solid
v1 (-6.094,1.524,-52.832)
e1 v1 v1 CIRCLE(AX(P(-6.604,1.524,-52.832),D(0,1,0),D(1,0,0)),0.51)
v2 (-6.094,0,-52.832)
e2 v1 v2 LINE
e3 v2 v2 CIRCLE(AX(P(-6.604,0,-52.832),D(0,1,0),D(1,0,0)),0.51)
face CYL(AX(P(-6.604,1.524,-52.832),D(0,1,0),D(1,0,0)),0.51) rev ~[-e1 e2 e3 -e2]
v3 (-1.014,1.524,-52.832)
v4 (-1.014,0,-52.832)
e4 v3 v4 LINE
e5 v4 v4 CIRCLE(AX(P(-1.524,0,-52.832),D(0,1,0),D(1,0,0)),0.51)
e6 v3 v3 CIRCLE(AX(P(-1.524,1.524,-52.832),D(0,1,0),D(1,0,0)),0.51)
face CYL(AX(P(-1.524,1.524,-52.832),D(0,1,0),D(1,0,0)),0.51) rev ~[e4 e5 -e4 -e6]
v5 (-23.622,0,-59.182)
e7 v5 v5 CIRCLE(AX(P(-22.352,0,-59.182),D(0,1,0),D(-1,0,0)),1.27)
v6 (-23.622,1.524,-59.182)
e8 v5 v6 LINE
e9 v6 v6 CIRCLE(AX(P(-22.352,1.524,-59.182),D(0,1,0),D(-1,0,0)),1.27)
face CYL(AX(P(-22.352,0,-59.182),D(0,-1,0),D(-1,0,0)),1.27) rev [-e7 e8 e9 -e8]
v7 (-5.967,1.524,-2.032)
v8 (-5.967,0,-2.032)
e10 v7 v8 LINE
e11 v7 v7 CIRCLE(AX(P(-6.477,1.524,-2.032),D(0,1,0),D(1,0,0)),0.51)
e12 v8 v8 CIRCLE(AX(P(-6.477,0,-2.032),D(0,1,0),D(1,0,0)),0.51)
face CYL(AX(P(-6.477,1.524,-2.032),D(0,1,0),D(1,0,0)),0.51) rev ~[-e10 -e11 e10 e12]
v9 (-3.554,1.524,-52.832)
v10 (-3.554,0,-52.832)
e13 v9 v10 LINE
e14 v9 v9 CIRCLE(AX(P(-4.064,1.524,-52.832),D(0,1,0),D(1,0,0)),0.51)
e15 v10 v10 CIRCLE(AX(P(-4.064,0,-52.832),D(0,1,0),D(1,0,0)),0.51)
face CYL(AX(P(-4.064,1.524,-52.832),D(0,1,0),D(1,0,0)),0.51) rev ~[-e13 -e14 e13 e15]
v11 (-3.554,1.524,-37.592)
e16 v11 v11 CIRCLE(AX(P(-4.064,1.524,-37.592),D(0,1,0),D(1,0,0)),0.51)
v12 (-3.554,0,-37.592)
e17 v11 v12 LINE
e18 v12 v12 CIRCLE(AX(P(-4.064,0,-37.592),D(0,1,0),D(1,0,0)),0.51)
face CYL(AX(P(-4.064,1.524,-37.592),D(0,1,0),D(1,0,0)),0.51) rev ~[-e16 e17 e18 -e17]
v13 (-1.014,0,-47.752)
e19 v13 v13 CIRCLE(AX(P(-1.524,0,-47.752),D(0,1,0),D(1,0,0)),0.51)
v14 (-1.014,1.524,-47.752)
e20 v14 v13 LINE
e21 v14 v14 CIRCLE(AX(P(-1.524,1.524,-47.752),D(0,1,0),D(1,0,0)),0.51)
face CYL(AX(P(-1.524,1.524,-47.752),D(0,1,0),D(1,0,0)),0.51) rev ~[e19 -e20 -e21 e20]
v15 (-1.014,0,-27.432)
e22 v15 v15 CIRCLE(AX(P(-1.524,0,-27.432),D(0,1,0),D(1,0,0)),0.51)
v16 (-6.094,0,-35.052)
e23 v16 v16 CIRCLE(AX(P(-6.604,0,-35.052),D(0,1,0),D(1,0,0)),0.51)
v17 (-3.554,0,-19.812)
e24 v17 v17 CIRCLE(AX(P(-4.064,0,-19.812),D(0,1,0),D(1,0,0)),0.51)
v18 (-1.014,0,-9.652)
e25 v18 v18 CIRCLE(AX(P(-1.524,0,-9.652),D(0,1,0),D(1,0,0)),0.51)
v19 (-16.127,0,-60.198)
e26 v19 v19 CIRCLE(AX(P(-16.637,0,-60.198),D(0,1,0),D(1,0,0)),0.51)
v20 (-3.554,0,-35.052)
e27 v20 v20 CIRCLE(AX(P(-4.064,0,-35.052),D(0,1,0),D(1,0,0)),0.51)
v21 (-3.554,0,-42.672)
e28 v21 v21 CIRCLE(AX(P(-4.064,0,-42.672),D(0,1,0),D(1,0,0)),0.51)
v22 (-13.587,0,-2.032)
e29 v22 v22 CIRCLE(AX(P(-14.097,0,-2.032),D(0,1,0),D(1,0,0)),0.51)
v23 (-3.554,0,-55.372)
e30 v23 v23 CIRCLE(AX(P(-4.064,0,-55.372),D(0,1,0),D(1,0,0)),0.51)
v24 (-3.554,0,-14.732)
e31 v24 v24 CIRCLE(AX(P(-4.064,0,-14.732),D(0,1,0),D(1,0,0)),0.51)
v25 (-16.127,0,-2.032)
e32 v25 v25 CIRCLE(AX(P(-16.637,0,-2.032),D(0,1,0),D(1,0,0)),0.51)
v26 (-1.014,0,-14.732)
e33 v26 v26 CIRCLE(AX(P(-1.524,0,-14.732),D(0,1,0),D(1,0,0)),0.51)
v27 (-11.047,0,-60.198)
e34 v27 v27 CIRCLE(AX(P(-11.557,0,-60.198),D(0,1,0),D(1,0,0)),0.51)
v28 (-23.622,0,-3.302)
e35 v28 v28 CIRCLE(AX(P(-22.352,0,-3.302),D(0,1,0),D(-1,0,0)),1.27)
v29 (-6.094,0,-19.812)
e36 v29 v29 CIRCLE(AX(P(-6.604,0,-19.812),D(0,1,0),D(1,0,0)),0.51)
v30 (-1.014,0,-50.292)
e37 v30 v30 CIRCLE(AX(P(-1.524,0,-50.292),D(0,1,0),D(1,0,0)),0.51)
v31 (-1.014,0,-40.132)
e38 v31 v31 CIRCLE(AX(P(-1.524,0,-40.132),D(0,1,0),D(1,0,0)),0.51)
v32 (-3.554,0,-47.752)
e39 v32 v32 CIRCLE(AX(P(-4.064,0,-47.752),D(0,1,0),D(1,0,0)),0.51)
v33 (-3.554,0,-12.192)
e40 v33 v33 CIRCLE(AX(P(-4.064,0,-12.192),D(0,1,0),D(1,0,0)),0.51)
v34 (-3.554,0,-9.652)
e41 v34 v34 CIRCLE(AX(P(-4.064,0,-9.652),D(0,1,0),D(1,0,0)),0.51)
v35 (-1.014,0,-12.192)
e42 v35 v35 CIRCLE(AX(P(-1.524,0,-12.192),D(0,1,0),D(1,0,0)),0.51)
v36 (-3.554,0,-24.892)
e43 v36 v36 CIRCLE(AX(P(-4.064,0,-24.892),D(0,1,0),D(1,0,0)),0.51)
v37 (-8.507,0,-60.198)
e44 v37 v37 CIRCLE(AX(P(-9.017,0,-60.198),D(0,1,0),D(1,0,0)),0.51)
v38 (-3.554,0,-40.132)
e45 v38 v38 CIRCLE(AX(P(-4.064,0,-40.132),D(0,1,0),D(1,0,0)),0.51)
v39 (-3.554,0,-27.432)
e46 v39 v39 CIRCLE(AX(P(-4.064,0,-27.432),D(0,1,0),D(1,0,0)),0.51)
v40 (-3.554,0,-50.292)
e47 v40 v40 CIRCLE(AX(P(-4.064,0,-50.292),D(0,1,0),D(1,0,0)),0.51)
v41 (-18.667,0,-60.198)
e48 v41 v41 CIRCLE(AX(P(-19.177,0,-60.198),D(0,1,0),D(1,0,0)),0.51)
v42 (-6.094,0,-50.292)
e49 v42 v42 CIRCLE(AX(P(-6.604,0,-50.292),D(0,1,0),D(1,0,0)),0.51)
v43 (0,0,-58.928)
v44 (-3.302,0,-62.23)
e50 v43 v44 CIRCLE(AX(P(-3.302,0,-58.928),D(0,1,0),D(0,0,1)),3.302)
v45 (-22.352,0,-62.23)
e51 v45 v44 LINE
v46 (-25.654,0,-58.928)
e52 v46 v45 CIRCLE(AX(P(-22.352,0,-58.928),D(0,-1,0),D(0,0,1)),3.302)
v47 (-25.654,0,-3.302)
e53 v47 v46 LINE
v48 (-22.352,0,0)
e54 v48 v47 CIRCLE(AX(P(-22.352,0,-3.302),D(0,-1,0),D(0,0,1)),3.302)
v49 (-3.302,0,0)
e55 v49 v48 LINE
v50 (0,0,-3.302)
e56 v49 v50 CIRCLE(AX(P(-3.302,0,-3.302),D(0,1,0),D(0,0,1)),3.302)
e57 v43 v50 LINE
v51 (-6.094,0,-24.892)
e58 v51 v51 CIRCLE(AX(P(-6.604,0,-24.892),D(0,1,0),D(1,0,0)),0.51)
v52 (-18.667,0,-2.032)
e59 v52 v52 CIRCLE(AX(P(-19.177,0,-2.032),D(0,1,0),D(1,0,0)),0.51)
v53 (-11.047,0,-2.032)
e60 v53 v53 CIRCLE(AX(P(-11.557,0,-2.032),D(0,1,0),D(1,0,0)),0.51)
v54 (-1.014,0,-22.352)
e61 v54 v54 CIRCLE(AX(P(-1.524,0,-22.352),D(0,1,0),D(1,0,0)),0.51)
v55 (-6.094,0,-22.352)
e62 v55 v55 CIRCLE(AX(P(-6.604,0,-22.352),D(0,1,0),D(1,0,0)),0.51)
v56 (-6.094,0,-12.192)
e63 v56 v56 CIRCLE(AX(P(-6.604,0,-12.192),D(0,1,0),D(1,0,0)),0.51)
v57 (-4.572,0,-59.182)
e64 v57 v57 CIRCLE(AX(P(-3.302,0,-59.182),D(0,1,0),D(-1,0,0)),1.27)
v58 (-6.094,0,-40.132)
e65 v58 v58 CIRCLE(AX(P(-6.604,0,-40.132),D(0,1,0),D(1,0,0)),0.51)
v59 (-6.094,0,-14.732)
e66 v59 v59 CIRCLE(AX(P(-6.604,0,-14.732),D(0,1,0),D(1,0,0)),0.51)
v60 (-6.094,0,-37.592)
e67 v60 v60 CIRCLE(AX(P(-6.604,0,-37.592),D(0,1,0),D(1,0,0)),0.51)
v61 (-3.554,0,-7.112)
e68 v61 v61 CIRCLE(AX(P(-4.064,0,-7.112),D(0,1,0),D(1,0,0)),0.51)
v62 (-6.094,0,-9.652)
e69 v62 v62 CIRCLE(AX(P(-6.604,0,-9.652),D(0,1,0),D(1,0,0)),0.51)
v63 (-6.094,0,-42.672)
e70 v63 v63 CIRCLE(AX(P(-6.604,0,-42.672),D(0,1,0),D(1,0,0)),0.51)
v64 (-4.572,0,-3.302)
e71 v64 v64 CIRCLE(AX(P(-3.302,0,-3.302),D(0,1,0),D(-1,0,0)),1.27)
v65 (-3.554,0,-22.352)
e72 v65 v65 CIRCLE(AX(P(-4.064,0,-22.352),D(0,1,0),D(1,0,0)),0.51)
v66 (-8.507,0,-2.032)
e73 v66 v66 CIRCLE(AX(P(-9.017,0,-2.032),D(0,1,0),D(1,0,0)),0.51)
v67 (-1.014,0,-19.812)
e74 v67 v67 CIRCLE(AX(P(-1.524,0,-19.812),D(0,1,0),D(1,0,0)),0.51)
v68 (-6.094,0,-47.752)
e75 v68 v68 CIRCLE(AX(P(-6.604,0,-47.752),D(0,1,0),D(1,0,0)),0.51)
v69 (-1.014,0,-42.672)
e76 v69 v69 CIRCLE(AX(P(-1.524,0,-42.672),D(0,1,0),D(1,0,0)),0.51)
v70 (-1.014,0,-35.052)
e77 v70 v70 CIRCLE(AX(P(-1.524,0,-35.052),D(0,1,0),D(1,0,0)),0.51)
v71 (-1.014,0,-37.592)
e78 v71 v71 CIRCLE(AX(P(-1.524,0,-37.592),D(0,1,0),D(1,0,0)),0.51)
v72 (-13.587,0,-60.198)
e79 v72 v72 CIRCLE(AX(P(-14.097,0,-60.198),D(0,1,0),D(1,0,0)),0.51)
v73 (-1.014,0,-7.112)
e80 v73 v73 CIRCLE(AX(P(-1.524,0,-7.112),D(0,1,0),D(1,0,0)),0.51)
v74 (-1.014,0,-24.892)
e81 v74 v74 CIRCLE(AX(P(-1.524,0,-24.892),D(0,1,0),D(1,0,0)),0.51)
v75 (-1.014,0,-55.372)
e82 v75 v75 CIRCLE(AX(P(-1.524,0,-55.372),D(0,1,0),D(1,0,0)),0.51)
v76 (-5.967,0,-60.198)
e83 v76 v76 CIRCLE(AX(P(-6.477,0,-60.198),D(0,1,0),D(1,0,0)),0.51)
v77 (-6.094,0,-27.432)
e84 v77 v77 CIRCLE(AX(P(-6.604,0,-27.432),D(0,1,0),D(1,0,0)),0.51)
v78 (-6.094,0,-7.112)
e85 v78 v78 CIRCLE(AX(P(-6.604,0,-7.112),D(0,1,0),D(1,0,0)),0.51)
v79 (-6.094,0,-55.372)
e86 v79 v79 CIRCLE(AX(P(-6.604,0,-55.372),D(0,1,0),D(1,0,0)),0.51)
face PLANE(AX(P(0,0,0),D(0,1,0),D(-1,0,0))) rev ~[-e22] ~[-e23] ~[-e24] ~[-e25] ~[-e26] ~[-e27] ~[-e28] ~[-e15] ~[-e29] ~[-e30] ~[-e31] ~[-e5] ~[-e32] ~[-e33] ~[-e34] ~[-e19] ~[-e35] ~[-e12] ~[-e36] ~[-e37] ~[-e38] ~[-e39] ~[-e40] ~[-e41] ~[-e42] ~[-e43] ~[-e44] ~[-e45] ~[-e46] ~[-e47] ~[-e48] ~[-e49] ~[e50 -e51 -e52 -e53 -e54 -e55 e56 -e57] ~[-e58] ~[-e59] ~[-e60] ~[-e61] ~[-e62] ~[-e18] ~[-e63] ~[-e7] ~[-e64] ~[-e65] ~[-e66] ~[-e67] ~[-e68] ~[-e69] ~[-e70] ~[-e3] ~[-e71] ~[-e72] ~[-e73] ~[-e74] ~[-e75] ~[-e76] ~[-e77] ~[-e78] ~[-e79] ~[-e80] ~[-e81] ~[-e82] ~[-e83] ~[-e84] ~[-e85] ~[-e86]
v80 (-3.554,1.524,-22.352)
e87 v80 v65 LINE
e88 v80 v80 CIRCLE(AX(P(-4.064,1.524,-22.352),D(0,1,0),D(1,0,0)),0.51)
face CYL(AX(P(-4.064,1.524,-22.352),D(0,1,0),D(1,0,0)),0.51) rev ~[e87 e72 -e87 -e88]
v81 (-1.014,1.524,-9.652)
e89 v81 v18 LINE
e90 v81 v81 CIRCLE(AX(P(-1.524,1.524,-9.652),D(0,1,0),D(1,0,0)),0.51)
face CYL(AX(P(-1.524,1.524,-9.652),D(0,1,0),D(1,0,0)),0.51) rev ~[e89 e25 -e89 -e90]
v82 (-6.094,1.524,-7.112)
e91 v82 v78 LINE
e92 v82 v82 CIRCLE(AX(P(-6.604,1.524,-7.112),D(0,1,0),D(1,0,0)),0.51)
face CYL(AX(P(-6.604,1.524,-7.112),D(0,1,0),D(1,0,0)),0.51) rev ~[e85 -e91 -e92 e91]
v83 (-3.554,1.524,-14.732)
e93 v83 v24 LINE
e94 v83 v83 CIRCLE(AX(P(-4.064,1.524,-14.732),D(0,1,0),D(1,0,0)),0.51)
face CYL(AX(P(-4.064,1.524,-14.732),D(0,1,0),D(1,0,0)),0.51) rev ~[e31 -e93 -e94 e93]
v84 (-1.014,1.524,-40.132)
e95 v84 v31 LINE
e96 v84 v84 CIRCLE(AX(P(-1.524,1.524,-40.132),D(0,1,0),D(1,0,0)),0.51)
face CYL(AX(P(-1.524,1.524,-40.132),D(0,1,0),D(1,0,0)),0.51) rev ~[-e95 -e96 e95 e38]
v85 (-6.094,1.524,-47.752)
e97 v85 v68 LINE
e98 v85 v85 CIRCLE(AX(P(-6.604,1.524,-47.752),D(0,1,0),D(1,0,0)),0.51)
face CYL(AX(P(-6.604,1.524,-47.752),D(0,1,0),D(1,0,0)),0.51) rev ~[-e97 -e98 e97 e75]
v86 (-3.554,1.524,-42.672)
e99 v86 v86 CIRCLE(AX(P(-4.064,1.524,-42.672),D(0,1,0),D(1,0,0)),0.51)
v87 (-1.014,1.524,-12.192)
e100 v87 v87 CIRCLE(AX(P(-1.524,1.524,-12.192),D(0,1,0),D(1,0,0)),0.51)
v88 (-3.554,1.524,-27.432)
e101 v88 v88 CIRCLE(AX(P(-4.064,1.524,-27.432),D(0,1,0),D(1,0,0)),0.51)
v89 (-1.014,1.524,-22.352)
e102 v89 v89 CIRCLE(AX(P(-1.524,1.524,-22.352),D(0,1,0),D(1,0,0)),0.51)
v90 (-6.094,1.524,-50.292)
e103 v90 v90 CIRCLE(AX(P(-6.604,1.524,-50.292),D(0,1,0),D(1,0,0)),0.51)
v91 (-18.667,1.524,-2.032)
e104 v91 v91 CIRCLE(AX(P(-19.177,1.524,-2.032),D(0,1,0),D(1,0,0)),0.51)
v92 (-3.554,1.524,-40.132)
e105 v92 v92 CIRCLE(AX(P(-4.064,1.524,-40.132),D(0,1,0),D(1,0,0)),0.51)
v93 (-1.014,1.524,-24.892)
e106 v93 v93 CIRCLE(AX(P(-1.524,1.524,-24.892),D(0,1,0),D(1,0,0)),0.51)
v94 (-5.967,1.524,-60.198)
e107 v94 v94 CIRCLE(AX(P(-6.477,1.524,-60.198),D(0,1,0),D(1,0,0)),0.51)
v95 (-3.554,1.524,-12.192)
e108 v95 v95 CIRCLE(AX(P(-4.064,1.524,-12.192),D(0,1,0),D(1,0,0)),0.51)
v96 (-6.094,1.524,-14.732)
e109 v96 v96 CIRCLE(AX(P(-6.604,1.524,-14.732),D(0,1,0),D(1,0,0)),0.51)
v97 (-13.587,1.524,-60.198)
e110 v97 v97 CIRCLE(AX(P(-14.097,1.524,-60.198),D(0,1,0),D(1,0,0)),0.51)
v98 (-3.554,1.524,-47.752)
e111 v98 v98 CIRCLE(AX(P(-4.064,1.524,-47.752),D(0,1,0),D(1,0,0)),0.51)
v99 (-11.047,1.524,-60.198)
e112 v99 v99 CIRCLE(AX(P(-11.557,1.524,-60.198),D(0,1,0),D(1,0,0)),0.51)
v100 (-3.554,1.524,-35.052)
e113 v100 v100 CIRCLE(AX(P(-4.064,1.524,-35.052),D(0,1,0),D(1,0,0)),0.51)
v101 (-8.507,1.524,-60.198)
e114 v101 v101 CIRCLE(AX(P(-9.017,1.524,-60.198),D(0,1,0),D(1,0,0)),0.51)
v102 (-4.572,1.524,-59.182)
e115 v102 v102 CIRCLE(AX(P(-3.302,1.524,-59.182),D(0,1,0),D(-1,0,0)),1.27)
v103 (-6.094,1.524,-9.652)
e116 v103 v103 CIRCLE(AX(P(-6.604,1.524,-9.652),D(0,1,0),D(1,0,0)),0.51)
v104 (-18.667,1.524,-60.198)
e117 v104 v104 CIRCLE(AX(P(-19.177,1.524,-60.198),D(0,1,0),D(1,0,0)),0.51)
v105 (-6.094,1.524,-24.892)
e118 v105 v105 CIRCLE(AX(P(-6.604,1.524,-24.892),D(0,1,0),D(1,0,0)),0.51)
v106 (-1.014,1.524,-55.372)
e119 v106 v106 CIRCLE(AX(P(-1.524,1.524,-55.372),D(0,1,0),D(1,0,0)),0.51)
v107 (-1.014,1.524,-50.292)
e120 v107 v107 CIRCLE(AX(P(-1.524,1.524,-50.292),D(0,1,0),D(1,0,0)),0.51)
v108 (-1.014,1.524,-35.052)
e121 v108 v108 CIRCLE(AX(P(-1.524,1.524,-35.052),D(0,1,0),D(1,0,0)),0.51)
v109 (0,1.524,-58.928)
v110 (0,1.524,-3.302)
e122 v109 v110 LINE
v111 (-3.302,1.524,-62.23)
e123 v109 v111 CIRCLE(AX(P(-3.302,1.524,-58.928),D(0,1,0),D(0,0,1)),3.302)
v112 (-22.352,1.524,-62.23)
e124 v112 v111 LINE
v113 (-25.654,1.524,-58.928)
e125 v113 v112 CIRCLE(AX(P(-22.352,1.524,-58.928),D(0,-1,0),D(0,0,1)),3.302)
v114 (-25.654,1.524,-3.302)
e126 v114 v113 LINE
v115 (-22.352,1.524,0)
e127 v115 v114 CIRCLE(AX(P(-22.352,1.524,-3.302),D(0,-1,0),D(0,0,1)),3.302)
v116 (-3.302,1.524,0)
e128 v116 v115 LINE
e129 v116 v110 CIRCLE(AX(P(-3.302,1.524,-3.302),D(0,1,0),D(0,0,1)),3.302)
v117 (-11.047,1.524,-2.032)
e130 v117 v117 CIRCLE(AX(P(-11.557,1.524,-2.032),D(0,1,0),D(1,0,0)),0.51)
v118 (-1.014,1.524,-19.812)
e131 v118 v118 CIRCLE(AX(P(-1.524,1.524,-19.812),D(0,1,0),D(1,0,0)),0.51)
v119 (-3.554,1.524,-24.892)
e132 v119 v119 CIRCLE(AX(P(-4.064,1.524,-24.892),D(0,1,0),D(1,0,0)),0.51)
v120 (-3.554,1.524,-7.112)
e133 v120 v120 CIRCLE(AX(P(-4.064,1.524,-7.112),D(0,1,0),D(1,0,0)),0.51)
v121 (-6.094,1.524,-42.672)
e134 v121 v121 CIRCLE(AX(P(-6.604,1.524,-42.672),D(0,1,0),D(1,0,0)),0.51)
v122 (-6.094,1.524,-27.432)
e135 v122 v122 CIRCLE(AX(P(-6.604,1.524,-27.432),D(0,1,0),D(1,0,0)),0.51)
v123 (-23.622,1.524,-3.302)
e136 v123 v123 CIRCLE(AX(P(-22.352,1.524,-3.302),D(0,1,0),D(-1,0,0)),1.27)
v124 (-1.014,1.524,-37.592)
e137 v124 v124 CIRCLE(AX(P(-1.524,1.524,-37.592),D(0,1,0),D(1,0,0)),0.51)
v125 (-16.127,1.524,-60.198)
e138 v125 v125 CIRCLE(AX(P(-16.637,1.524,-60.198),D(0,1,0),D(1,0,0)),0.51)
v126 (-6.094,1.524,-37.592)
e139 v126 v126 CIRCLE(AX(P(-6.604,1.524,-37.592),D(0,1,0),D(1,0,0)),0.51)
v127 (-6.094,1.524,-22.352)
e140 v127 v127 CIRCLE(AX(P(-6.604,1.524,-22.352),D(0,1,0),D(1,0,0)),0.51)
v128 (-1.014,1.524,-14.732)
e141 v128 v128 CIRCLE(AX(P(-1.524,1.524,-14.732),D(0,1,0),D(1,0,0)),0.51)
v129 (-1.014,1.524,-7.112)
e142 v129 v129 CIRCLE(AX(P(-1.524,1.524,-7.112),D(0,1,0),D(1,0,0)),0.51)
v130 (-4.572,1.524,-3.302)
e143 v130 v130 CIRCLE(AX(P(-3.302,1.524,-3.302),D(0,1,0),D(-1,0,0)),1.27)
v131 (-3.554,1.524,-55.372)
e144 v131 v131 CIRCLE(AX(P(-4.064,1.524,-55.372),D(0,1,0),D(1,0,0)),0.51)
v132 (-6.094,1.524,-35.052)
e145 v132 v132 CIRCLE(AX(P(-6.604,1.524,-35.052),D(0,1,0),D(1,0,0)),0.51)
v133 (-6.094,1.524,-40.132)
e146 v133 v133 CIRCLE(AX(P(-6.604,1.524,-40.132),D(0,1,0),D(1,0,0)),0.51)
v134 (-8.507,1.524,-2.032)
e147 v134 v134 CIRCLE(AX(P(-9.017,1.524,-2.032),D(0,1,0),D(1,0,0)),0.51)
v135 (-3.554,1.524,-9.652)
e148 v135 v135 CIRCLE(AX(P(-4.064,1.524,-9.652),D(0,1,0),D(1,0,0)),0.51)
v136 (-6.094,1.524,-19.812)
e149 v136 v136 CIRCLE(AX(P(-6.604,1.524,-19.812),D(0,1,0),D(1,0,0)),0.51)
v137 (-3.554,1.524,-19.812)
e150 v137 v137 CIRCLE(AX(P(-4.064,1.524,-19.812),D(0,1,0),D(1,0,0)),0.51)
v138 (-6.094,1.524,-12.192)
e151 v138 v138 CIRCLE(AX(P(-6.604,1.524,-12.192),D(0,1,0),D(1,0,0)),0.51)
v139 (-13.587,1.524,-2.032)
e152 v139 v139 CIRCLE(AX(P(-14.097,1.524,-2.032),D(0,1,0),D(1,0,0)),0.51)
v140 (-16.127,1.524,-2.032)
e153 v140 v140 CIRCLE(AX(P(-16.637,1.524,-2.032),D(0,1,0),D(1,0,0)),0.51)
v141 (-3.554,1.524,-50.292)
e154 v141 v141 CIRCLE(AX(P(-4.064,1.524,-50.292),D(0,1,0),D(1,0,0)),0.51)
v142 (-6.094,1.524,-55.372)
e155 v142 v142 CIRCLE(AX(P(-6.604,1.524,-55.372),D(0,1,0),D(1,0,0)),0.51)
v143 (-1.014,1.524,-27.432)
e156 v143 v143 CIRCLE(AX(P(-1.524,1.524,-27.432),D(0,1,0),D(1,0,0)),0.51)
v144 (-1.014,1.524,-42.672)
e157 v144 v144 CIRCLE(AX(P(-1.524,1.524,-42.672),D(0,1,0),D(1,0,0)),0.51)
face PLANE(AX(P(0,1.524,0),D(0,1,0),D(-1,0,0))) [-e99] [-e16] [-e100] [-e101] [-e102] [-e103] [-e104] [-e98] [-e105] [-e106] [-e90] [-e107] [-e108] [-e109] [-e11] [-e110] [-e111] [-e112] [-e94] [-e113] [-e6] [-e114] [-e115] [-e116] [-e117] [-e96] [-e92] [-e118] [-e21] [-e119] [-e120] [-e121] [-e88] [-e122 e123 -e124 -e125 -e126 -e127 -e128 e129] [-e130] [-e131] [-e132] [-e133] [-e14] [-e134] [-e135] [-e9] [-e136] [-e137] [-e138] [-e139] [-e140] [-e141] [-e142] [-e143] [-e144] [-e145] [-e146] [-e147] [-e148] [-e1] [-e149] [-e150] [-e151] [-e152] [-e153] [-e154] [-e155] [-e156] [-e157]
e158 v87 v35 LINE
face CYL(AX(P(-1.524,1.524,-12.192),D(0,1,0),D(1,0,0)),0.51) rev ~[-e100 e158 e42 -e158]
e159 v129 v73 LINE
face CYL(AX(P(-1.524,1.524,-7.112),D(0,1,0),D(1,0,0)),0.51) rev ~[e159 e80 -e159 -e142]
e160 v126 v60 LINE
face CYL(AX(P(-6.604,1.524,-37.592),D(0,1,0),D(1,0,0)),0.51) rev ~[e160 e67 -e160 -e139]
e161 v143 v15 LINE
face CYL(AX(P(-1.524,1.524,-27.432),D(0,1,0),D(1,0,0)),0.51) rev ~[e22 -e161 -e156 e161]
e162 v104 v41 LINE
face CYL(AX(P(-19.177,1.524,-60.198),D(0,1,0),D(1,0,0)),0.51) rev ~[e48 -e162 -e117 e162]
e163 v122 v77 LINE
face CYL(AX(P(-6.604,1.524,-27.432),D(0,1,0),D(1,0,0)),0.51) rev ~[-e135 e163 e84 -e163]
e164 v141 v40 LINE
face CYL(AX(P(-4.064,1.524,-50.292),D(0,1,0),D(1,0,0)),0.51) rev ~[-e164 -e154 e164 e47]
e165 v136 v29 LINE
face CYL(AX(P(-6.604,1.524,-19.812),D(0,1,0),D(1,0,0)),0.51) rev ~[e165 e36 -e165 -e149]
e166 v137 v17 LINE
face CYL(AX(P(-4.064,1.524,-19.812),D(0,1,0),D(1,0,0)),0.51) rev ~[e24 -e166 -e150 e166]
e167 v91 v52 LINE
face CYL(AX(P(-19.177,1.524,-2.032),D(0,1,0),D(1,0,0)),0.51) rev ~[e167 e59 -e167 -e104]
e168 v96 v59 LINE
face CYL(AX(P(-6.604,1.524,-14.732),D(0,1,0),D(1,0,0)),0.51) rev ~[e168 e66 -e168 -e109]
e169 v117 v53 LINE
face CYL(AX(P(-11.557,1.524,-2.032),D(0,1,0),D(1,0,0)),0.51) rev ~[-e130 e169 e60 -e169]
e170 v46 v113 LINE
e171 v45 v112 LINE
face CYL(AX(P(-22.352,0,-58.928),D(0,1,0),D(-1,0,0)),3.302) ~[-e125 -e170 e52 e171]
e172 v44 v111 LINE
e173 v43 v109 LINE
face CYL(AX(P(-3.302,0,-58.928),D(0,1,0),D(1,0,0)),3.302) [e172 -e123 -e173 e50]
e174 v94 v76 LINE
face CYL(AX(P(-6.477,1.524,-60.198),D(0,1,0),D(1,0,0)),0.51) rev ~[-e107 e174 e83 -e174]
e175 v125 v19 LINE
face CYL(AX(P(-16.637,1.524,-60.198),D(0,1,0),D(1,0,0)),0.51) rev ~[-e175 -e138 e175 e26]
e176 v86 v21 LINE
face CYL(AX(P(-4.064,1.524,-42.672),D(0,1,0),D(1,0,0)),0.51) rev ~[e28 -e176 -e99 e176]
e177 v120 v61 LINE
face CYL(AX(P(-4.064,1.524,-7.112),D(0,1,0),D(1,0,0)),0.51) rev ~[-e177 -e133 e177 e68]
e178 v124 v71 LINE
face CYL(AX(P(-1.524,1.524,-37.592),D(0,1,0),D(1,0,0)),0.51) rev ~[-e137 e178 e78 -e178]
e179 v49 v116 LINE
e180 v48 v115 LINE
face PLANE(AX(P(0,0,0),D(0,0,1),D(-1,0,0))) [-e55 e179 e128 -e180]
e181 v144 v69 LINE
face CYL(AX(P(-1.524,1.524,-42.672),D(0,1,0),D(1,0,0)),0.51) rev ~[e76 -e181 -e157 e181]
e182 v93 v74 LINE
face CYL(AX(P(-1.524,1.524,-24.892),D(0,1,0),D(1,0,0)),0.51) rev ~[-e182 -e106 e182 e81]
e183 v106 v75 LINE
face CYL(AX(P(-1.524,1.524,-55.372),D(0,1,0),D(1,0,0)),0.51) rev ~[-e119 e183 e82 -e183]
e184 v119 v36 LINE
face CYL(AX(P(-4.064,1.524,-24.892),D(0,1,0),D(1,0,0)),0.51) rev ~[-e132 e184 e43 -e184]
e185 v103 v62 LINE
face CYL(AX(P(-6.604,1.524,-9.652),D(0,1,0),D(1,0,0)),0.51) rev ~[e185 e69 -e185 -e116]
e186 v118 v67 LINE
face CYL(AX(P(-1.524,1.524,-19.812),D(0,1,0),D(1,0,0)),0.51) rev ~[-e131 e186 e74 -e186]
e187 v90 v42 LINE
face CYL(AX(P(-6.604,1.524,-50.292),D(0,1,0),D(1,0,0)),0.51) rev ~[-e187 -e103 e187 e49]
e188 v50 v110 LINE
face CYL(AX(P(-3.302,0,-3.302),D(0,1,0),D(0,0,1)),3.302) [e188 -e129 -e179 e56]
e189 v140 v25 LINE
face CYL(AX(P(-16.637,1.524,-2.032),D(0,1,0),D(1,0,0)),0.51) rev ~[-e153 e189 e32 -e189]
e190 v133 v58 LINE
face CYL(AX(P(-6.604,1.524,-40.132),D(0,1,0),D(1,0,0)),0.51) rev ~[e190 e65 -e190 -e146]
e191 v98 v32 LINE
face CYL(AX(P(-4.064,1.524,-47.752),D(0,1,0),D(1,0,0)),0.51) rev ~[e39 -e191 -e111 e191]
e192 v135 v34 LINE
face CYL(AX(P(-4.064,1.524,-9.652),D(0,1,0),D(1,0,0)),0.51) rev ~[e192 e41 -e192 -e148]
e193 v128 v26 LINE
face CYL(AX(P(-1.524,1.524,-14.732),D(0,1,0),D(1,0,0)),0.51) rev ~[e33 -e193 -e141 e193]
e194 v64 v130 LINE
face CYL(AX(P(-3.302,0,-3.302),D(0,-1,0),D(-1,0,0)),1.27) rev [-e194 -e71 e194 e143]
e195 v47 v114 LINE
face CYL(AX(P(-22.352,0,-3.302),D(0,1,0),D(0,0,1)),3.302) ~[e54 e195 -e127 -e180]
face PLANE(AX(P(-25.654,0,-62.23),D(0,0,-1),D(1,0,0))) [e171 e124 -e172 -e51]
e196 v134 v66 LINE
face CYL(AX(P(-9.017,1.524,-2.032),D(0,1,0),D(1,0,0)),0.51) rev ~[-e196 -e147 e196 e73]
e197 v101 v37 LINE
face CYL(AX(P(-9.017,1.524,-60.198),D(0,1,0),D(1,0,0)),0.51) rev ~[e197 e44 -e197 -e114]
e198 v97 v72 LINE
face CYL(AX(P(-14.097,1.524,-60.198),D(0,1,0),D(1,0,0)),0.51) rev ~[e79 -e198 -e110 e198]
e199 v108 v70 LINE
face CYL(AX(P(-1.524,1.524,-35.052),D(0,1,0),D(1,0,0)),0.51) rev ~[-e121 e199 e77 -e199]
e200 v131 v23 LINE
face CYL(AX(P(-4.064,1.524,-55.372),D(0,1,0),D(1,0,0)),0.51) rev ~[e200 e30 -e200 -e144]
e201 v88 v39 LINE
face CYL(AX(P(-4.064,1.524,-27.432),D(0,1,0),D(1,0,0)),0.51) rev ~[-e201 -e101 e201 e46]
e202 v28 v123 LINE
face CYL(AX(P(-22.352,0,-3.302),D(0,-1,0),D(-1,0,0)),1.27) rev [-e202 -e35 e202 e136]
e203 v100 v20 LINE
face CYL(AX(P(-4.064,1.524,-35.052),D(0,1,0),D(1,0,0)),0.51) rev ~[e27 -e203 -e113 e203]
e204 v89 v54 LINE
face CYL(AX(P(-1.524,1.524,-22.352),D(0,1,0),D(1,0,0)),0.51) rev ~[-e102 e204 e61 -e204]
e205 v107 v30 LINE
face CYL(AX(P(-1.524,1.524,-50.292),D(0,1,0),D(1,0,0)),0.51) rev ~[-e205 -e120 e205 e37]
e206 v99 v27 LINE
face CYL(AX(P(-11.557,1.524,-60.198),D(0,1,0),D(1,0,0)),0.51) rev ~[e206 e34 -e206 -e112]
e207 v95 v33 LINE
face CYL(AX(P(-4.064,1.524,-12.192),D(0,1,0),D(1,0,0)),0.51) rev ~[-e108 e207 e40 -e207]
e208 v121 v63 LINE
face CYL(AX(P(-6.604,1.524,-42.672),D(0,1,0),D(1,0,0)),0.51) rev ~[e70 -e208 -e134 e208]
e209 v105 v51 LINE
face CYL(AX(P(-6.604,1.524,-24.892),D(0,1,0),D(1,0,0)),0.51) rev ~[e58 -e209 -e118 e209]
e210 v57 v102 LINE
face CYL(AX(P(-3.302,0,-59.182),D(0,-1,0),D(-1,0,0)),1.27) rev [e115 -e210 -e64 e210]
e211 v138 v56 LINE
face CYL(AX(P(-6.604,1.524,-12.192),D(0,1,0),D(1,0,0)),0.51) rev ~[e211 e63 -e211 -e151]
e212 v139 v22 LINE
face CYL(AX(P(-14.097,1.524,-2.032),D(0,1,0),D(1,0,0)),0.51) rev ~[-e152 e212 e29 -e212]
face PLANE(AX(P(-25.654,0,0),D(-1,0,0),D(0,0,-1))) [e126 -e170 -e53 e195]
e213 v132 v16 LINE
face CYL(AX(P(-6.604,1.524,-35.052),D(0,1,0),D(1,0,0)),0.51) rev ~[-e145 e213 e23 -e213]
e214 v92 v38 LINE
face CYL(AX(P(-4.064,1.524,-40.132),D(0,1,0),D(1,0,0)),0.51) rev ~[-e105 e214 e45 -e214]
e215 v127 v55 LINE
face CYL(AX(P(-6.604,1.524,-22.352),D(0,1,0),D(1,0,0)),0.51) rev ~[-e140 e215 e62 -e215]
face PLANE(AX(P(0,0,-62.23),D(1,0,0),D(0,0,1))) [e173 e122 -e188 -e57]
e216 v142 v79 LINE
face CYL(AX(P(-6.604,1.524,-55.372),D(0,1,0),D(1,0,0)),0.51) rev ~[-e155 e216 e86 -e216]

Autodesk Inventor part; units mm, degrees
ref_plane "YZ Plane" through (0, 0, 0) normal (1, 0, 0) x (0, 1, 0)
ref_plane "XZ Plane" through (0, 0, 0) normal (0, 1, 0) x (-1, 0, 0)
ref_plane "XY Plane" through (0, 0, 0) normal (0, 0, 1) x (1, 0, 0)
sketch "Sketch1" plane through (0, 0, 0) normal (0, 1, 0) x (-1, 0, 0)
  line L0 (0, 0) -> (25.654, 0)
  line L1 (25.654, 0) -> (25.654, -62.23)
  line L2 (25.654, -62.23) -> (0, -62.23)
  line L3 (0, -62.23) -> (0, 0)
  circle A0 centre (3.302, -3.302) radius 1.27
  circle A1 centre (3.302, -59.182) radius 1.27
  circle A2 centre (22.352, -3.302) radius 1.27
  circle A3 centre (22.352, -59.182) radius 1.27
  dimension "d0" = 25.654
  dimension "d1" = 2.54
  dimension "d2" = 3.302
  dimension "d3" = 3.302
  dimension "d4" = 62.23
  dimension "d7" = 55.88
  dimension "d10" = 19.05
extrude "Extrusion1" add sketch "Sketch1" along normal blind 1.524
sketch "Sketch2" plane through (0, 1.524, 0) normal (0, 1, 0) x (1, 0, 0)
  circle A0 centre (-19.177, 2.032) radius 0.51
  line L0 (-25.654, 0) -> (0, 0) projected
  circle A1 centre (-16.637, 2.032) radius 0.51
  circle A2 centre (-14.097, 2.032) radius 0.51
  circle A3 centre (-11.557, 2.032) radius 0.51
  circle A4 centre (-9.017, 2.032) radius 0.51
  circle A5 centre (-6.477, 2.032) radius 0.51
  circle A6 centre (-22.352, 3.302) radius 1.27 projected
  circle A7 centre (-6.604, 7.112) radius 0.51
  line L1 (-25.654, 62.23) -> (-25.654, 0) projected
  circle A8 centre (-6.604, 9.652) radius 0.51
  circle A9 centre (-6.604, 12.192) radius 0.51
  circle A10 centre (-6.604, 14.732) radius 0.51
  circle A11 centre (-4.064, 7.112) radius 0.51
  circle A12 centre (-4.064, 9.652) radius 0.51
  circle A13 centre (-4.064, 12.192) radius 0.51
  circle A14 centre (-4.064, 14.732) radius 0.51
  circle A15 centre (-1.524, 7.112) radius 0.51
  circle A16 centre (-1.524, 9.652) radius 0.51
  circle A17 centre (-1.524, 12.192) radius 0.51
  circle A18 centre (-1.524, 14.732) radius 0.51
  circle A19 centre (-3.302, 3.302) radius 1.27 projected
  line L2 (0, 0) -> (0, 62.23) projected
  circle A20 centre (-4.064, 19.812) radius 0.51
  circle A21 centre (-1.524, 19.812) radius 0.51
  circle A22 centre (-1.524, 22.352) radius 0.51
  circle A23 centre (-6.604, 24.892) radius 0.51
  circle A24 centre (-4.064, 24.892) radius 0.51
  circle A25 centre (-1.524, 24.892) radius 0.51
  circle A26 centre (-6.604, 27.432) radius 0.51
  circle A27 centre (-4.064, 27.432) radius 0.51
  circle A28 centre (-1.524, 27.432) radius 0.51
  circle A29 centre (-6.604, 22.352) radius 0.51
  circle A30 centre (-4.064, 22.352) radius 0.51
  circle A31 centre (-6.604, 19.812) radius 0.51
  circle A32 centre (-1.524, 37.592) radius 0.51
  circle A33 centre (-4.064, 37.592) radius 0.51
  circle A34 centre (-6.604, 37.592) radius 0.51
  circle A35 centre (-1.524, 40.132) radius 0.51
  circle A36 centre (-4.064, 40.132) radius 0.51
  circle A37 centre (-6.604, 40.132) radius 0.51
  circle A38 centre (-1.524, 42.672) radius 0.51
  circle A39 centre (-4.064, 42.672) radius 0.51
  circle A40 centre (-6.604, 42.672) radius 0.51
  circle A41 centre (-4.064, 35.052) radius 0.51
  circle A42 centre (-1.524, 35.052) radius 0.51
  circle A43 centre (-6.604, 35.052) radius 0.51
  circle A44 centre (-4.064, 47.752) radius 0.51
  circle A45 centre (-1.524, 47.752) radius 0.51
  circle A46 centre (-6.604, 47.752) radius 0.51
  circle A47 centre (-4.064, 50.292) radius 0.51
  circle A48 centre (-6.604, 50.292) radius 0.51
  circle A49 centre (-1.524, 50.292) radius 0.51
  circle A50 centre (-4.064, 52.832) radius 0.51
  circle A51 centre (-6.604, 52.832) radius 0.51
  circle A52 centre (-1.524, 52.832) radius 0.51
  circle A53 centre (-6.604, 55.372) radius 0.51
  circle A54 centre (-4.064, 55.372) radius 0.51
  circle A55 centre (-1.524, 55.372) radius 0.51
  circle A56 centre (-6.477, 60.198) radius 0.51
  circle A57 centre (-9.017, 60.198) radius 0.51
  circle A58 centre (-11.557, 60.198) radius 0.51
  circle A59 centre (-19.177, 60.198) radius 0.51
  circle A60 centre (-16.637, 60.198) radius 0.51
  circle A61 centre (-14.097, 60.198) radius 0.51
  dimension "d15" = 1.02
  dimension "d16" = 2.032
  dimension "d19" = 2.54
  dimension "d24" = 3.175
  dimension "d25" = 1.02
  dimension "d28" = 2.54
  dimension "d31" = 2.54
  dimension "d34" = 4.064
  dimension "d35" = 9.652
  dimension "d38" = 12.7
  dimension "d45" = 15.24
  dimension "d52" = 12.7
  dimension "d63" = 58.166
extrude "Extrusion4" cut sketch "Sketch2" against normal through all contours A0 | A1 | A2 | A3 | A4 | A5 | A7 | A8 | A9 | A10 | A11 | A12 | A13 | A14 | A15 | A16 | A17 | A18 | A20 | A21 | A22 | A23 | A24 | A25 | A26 | A27 | A28 | A29 | A30 | A31 | A32 | A33 | A34 | A35 | A36 | A37 | A38 | A39 | A40 | A41 | A42 | A43 | A44 | A45 | A46 | A47 | A48 | A49 | A50 | A51 | A52 | A53 | A54 | A55 | A56 | A57 | A58 | A59 | A60 | A61
fillet "Fillet1" radius 3.302 4 edges at (-25.654, 0.762, 0) (0, 0.762, 0) (0, 0.762, -62.23) (-25.654, 0.762, -62.23)
properties part number "MainPCB" material "Silicon Nitride"
